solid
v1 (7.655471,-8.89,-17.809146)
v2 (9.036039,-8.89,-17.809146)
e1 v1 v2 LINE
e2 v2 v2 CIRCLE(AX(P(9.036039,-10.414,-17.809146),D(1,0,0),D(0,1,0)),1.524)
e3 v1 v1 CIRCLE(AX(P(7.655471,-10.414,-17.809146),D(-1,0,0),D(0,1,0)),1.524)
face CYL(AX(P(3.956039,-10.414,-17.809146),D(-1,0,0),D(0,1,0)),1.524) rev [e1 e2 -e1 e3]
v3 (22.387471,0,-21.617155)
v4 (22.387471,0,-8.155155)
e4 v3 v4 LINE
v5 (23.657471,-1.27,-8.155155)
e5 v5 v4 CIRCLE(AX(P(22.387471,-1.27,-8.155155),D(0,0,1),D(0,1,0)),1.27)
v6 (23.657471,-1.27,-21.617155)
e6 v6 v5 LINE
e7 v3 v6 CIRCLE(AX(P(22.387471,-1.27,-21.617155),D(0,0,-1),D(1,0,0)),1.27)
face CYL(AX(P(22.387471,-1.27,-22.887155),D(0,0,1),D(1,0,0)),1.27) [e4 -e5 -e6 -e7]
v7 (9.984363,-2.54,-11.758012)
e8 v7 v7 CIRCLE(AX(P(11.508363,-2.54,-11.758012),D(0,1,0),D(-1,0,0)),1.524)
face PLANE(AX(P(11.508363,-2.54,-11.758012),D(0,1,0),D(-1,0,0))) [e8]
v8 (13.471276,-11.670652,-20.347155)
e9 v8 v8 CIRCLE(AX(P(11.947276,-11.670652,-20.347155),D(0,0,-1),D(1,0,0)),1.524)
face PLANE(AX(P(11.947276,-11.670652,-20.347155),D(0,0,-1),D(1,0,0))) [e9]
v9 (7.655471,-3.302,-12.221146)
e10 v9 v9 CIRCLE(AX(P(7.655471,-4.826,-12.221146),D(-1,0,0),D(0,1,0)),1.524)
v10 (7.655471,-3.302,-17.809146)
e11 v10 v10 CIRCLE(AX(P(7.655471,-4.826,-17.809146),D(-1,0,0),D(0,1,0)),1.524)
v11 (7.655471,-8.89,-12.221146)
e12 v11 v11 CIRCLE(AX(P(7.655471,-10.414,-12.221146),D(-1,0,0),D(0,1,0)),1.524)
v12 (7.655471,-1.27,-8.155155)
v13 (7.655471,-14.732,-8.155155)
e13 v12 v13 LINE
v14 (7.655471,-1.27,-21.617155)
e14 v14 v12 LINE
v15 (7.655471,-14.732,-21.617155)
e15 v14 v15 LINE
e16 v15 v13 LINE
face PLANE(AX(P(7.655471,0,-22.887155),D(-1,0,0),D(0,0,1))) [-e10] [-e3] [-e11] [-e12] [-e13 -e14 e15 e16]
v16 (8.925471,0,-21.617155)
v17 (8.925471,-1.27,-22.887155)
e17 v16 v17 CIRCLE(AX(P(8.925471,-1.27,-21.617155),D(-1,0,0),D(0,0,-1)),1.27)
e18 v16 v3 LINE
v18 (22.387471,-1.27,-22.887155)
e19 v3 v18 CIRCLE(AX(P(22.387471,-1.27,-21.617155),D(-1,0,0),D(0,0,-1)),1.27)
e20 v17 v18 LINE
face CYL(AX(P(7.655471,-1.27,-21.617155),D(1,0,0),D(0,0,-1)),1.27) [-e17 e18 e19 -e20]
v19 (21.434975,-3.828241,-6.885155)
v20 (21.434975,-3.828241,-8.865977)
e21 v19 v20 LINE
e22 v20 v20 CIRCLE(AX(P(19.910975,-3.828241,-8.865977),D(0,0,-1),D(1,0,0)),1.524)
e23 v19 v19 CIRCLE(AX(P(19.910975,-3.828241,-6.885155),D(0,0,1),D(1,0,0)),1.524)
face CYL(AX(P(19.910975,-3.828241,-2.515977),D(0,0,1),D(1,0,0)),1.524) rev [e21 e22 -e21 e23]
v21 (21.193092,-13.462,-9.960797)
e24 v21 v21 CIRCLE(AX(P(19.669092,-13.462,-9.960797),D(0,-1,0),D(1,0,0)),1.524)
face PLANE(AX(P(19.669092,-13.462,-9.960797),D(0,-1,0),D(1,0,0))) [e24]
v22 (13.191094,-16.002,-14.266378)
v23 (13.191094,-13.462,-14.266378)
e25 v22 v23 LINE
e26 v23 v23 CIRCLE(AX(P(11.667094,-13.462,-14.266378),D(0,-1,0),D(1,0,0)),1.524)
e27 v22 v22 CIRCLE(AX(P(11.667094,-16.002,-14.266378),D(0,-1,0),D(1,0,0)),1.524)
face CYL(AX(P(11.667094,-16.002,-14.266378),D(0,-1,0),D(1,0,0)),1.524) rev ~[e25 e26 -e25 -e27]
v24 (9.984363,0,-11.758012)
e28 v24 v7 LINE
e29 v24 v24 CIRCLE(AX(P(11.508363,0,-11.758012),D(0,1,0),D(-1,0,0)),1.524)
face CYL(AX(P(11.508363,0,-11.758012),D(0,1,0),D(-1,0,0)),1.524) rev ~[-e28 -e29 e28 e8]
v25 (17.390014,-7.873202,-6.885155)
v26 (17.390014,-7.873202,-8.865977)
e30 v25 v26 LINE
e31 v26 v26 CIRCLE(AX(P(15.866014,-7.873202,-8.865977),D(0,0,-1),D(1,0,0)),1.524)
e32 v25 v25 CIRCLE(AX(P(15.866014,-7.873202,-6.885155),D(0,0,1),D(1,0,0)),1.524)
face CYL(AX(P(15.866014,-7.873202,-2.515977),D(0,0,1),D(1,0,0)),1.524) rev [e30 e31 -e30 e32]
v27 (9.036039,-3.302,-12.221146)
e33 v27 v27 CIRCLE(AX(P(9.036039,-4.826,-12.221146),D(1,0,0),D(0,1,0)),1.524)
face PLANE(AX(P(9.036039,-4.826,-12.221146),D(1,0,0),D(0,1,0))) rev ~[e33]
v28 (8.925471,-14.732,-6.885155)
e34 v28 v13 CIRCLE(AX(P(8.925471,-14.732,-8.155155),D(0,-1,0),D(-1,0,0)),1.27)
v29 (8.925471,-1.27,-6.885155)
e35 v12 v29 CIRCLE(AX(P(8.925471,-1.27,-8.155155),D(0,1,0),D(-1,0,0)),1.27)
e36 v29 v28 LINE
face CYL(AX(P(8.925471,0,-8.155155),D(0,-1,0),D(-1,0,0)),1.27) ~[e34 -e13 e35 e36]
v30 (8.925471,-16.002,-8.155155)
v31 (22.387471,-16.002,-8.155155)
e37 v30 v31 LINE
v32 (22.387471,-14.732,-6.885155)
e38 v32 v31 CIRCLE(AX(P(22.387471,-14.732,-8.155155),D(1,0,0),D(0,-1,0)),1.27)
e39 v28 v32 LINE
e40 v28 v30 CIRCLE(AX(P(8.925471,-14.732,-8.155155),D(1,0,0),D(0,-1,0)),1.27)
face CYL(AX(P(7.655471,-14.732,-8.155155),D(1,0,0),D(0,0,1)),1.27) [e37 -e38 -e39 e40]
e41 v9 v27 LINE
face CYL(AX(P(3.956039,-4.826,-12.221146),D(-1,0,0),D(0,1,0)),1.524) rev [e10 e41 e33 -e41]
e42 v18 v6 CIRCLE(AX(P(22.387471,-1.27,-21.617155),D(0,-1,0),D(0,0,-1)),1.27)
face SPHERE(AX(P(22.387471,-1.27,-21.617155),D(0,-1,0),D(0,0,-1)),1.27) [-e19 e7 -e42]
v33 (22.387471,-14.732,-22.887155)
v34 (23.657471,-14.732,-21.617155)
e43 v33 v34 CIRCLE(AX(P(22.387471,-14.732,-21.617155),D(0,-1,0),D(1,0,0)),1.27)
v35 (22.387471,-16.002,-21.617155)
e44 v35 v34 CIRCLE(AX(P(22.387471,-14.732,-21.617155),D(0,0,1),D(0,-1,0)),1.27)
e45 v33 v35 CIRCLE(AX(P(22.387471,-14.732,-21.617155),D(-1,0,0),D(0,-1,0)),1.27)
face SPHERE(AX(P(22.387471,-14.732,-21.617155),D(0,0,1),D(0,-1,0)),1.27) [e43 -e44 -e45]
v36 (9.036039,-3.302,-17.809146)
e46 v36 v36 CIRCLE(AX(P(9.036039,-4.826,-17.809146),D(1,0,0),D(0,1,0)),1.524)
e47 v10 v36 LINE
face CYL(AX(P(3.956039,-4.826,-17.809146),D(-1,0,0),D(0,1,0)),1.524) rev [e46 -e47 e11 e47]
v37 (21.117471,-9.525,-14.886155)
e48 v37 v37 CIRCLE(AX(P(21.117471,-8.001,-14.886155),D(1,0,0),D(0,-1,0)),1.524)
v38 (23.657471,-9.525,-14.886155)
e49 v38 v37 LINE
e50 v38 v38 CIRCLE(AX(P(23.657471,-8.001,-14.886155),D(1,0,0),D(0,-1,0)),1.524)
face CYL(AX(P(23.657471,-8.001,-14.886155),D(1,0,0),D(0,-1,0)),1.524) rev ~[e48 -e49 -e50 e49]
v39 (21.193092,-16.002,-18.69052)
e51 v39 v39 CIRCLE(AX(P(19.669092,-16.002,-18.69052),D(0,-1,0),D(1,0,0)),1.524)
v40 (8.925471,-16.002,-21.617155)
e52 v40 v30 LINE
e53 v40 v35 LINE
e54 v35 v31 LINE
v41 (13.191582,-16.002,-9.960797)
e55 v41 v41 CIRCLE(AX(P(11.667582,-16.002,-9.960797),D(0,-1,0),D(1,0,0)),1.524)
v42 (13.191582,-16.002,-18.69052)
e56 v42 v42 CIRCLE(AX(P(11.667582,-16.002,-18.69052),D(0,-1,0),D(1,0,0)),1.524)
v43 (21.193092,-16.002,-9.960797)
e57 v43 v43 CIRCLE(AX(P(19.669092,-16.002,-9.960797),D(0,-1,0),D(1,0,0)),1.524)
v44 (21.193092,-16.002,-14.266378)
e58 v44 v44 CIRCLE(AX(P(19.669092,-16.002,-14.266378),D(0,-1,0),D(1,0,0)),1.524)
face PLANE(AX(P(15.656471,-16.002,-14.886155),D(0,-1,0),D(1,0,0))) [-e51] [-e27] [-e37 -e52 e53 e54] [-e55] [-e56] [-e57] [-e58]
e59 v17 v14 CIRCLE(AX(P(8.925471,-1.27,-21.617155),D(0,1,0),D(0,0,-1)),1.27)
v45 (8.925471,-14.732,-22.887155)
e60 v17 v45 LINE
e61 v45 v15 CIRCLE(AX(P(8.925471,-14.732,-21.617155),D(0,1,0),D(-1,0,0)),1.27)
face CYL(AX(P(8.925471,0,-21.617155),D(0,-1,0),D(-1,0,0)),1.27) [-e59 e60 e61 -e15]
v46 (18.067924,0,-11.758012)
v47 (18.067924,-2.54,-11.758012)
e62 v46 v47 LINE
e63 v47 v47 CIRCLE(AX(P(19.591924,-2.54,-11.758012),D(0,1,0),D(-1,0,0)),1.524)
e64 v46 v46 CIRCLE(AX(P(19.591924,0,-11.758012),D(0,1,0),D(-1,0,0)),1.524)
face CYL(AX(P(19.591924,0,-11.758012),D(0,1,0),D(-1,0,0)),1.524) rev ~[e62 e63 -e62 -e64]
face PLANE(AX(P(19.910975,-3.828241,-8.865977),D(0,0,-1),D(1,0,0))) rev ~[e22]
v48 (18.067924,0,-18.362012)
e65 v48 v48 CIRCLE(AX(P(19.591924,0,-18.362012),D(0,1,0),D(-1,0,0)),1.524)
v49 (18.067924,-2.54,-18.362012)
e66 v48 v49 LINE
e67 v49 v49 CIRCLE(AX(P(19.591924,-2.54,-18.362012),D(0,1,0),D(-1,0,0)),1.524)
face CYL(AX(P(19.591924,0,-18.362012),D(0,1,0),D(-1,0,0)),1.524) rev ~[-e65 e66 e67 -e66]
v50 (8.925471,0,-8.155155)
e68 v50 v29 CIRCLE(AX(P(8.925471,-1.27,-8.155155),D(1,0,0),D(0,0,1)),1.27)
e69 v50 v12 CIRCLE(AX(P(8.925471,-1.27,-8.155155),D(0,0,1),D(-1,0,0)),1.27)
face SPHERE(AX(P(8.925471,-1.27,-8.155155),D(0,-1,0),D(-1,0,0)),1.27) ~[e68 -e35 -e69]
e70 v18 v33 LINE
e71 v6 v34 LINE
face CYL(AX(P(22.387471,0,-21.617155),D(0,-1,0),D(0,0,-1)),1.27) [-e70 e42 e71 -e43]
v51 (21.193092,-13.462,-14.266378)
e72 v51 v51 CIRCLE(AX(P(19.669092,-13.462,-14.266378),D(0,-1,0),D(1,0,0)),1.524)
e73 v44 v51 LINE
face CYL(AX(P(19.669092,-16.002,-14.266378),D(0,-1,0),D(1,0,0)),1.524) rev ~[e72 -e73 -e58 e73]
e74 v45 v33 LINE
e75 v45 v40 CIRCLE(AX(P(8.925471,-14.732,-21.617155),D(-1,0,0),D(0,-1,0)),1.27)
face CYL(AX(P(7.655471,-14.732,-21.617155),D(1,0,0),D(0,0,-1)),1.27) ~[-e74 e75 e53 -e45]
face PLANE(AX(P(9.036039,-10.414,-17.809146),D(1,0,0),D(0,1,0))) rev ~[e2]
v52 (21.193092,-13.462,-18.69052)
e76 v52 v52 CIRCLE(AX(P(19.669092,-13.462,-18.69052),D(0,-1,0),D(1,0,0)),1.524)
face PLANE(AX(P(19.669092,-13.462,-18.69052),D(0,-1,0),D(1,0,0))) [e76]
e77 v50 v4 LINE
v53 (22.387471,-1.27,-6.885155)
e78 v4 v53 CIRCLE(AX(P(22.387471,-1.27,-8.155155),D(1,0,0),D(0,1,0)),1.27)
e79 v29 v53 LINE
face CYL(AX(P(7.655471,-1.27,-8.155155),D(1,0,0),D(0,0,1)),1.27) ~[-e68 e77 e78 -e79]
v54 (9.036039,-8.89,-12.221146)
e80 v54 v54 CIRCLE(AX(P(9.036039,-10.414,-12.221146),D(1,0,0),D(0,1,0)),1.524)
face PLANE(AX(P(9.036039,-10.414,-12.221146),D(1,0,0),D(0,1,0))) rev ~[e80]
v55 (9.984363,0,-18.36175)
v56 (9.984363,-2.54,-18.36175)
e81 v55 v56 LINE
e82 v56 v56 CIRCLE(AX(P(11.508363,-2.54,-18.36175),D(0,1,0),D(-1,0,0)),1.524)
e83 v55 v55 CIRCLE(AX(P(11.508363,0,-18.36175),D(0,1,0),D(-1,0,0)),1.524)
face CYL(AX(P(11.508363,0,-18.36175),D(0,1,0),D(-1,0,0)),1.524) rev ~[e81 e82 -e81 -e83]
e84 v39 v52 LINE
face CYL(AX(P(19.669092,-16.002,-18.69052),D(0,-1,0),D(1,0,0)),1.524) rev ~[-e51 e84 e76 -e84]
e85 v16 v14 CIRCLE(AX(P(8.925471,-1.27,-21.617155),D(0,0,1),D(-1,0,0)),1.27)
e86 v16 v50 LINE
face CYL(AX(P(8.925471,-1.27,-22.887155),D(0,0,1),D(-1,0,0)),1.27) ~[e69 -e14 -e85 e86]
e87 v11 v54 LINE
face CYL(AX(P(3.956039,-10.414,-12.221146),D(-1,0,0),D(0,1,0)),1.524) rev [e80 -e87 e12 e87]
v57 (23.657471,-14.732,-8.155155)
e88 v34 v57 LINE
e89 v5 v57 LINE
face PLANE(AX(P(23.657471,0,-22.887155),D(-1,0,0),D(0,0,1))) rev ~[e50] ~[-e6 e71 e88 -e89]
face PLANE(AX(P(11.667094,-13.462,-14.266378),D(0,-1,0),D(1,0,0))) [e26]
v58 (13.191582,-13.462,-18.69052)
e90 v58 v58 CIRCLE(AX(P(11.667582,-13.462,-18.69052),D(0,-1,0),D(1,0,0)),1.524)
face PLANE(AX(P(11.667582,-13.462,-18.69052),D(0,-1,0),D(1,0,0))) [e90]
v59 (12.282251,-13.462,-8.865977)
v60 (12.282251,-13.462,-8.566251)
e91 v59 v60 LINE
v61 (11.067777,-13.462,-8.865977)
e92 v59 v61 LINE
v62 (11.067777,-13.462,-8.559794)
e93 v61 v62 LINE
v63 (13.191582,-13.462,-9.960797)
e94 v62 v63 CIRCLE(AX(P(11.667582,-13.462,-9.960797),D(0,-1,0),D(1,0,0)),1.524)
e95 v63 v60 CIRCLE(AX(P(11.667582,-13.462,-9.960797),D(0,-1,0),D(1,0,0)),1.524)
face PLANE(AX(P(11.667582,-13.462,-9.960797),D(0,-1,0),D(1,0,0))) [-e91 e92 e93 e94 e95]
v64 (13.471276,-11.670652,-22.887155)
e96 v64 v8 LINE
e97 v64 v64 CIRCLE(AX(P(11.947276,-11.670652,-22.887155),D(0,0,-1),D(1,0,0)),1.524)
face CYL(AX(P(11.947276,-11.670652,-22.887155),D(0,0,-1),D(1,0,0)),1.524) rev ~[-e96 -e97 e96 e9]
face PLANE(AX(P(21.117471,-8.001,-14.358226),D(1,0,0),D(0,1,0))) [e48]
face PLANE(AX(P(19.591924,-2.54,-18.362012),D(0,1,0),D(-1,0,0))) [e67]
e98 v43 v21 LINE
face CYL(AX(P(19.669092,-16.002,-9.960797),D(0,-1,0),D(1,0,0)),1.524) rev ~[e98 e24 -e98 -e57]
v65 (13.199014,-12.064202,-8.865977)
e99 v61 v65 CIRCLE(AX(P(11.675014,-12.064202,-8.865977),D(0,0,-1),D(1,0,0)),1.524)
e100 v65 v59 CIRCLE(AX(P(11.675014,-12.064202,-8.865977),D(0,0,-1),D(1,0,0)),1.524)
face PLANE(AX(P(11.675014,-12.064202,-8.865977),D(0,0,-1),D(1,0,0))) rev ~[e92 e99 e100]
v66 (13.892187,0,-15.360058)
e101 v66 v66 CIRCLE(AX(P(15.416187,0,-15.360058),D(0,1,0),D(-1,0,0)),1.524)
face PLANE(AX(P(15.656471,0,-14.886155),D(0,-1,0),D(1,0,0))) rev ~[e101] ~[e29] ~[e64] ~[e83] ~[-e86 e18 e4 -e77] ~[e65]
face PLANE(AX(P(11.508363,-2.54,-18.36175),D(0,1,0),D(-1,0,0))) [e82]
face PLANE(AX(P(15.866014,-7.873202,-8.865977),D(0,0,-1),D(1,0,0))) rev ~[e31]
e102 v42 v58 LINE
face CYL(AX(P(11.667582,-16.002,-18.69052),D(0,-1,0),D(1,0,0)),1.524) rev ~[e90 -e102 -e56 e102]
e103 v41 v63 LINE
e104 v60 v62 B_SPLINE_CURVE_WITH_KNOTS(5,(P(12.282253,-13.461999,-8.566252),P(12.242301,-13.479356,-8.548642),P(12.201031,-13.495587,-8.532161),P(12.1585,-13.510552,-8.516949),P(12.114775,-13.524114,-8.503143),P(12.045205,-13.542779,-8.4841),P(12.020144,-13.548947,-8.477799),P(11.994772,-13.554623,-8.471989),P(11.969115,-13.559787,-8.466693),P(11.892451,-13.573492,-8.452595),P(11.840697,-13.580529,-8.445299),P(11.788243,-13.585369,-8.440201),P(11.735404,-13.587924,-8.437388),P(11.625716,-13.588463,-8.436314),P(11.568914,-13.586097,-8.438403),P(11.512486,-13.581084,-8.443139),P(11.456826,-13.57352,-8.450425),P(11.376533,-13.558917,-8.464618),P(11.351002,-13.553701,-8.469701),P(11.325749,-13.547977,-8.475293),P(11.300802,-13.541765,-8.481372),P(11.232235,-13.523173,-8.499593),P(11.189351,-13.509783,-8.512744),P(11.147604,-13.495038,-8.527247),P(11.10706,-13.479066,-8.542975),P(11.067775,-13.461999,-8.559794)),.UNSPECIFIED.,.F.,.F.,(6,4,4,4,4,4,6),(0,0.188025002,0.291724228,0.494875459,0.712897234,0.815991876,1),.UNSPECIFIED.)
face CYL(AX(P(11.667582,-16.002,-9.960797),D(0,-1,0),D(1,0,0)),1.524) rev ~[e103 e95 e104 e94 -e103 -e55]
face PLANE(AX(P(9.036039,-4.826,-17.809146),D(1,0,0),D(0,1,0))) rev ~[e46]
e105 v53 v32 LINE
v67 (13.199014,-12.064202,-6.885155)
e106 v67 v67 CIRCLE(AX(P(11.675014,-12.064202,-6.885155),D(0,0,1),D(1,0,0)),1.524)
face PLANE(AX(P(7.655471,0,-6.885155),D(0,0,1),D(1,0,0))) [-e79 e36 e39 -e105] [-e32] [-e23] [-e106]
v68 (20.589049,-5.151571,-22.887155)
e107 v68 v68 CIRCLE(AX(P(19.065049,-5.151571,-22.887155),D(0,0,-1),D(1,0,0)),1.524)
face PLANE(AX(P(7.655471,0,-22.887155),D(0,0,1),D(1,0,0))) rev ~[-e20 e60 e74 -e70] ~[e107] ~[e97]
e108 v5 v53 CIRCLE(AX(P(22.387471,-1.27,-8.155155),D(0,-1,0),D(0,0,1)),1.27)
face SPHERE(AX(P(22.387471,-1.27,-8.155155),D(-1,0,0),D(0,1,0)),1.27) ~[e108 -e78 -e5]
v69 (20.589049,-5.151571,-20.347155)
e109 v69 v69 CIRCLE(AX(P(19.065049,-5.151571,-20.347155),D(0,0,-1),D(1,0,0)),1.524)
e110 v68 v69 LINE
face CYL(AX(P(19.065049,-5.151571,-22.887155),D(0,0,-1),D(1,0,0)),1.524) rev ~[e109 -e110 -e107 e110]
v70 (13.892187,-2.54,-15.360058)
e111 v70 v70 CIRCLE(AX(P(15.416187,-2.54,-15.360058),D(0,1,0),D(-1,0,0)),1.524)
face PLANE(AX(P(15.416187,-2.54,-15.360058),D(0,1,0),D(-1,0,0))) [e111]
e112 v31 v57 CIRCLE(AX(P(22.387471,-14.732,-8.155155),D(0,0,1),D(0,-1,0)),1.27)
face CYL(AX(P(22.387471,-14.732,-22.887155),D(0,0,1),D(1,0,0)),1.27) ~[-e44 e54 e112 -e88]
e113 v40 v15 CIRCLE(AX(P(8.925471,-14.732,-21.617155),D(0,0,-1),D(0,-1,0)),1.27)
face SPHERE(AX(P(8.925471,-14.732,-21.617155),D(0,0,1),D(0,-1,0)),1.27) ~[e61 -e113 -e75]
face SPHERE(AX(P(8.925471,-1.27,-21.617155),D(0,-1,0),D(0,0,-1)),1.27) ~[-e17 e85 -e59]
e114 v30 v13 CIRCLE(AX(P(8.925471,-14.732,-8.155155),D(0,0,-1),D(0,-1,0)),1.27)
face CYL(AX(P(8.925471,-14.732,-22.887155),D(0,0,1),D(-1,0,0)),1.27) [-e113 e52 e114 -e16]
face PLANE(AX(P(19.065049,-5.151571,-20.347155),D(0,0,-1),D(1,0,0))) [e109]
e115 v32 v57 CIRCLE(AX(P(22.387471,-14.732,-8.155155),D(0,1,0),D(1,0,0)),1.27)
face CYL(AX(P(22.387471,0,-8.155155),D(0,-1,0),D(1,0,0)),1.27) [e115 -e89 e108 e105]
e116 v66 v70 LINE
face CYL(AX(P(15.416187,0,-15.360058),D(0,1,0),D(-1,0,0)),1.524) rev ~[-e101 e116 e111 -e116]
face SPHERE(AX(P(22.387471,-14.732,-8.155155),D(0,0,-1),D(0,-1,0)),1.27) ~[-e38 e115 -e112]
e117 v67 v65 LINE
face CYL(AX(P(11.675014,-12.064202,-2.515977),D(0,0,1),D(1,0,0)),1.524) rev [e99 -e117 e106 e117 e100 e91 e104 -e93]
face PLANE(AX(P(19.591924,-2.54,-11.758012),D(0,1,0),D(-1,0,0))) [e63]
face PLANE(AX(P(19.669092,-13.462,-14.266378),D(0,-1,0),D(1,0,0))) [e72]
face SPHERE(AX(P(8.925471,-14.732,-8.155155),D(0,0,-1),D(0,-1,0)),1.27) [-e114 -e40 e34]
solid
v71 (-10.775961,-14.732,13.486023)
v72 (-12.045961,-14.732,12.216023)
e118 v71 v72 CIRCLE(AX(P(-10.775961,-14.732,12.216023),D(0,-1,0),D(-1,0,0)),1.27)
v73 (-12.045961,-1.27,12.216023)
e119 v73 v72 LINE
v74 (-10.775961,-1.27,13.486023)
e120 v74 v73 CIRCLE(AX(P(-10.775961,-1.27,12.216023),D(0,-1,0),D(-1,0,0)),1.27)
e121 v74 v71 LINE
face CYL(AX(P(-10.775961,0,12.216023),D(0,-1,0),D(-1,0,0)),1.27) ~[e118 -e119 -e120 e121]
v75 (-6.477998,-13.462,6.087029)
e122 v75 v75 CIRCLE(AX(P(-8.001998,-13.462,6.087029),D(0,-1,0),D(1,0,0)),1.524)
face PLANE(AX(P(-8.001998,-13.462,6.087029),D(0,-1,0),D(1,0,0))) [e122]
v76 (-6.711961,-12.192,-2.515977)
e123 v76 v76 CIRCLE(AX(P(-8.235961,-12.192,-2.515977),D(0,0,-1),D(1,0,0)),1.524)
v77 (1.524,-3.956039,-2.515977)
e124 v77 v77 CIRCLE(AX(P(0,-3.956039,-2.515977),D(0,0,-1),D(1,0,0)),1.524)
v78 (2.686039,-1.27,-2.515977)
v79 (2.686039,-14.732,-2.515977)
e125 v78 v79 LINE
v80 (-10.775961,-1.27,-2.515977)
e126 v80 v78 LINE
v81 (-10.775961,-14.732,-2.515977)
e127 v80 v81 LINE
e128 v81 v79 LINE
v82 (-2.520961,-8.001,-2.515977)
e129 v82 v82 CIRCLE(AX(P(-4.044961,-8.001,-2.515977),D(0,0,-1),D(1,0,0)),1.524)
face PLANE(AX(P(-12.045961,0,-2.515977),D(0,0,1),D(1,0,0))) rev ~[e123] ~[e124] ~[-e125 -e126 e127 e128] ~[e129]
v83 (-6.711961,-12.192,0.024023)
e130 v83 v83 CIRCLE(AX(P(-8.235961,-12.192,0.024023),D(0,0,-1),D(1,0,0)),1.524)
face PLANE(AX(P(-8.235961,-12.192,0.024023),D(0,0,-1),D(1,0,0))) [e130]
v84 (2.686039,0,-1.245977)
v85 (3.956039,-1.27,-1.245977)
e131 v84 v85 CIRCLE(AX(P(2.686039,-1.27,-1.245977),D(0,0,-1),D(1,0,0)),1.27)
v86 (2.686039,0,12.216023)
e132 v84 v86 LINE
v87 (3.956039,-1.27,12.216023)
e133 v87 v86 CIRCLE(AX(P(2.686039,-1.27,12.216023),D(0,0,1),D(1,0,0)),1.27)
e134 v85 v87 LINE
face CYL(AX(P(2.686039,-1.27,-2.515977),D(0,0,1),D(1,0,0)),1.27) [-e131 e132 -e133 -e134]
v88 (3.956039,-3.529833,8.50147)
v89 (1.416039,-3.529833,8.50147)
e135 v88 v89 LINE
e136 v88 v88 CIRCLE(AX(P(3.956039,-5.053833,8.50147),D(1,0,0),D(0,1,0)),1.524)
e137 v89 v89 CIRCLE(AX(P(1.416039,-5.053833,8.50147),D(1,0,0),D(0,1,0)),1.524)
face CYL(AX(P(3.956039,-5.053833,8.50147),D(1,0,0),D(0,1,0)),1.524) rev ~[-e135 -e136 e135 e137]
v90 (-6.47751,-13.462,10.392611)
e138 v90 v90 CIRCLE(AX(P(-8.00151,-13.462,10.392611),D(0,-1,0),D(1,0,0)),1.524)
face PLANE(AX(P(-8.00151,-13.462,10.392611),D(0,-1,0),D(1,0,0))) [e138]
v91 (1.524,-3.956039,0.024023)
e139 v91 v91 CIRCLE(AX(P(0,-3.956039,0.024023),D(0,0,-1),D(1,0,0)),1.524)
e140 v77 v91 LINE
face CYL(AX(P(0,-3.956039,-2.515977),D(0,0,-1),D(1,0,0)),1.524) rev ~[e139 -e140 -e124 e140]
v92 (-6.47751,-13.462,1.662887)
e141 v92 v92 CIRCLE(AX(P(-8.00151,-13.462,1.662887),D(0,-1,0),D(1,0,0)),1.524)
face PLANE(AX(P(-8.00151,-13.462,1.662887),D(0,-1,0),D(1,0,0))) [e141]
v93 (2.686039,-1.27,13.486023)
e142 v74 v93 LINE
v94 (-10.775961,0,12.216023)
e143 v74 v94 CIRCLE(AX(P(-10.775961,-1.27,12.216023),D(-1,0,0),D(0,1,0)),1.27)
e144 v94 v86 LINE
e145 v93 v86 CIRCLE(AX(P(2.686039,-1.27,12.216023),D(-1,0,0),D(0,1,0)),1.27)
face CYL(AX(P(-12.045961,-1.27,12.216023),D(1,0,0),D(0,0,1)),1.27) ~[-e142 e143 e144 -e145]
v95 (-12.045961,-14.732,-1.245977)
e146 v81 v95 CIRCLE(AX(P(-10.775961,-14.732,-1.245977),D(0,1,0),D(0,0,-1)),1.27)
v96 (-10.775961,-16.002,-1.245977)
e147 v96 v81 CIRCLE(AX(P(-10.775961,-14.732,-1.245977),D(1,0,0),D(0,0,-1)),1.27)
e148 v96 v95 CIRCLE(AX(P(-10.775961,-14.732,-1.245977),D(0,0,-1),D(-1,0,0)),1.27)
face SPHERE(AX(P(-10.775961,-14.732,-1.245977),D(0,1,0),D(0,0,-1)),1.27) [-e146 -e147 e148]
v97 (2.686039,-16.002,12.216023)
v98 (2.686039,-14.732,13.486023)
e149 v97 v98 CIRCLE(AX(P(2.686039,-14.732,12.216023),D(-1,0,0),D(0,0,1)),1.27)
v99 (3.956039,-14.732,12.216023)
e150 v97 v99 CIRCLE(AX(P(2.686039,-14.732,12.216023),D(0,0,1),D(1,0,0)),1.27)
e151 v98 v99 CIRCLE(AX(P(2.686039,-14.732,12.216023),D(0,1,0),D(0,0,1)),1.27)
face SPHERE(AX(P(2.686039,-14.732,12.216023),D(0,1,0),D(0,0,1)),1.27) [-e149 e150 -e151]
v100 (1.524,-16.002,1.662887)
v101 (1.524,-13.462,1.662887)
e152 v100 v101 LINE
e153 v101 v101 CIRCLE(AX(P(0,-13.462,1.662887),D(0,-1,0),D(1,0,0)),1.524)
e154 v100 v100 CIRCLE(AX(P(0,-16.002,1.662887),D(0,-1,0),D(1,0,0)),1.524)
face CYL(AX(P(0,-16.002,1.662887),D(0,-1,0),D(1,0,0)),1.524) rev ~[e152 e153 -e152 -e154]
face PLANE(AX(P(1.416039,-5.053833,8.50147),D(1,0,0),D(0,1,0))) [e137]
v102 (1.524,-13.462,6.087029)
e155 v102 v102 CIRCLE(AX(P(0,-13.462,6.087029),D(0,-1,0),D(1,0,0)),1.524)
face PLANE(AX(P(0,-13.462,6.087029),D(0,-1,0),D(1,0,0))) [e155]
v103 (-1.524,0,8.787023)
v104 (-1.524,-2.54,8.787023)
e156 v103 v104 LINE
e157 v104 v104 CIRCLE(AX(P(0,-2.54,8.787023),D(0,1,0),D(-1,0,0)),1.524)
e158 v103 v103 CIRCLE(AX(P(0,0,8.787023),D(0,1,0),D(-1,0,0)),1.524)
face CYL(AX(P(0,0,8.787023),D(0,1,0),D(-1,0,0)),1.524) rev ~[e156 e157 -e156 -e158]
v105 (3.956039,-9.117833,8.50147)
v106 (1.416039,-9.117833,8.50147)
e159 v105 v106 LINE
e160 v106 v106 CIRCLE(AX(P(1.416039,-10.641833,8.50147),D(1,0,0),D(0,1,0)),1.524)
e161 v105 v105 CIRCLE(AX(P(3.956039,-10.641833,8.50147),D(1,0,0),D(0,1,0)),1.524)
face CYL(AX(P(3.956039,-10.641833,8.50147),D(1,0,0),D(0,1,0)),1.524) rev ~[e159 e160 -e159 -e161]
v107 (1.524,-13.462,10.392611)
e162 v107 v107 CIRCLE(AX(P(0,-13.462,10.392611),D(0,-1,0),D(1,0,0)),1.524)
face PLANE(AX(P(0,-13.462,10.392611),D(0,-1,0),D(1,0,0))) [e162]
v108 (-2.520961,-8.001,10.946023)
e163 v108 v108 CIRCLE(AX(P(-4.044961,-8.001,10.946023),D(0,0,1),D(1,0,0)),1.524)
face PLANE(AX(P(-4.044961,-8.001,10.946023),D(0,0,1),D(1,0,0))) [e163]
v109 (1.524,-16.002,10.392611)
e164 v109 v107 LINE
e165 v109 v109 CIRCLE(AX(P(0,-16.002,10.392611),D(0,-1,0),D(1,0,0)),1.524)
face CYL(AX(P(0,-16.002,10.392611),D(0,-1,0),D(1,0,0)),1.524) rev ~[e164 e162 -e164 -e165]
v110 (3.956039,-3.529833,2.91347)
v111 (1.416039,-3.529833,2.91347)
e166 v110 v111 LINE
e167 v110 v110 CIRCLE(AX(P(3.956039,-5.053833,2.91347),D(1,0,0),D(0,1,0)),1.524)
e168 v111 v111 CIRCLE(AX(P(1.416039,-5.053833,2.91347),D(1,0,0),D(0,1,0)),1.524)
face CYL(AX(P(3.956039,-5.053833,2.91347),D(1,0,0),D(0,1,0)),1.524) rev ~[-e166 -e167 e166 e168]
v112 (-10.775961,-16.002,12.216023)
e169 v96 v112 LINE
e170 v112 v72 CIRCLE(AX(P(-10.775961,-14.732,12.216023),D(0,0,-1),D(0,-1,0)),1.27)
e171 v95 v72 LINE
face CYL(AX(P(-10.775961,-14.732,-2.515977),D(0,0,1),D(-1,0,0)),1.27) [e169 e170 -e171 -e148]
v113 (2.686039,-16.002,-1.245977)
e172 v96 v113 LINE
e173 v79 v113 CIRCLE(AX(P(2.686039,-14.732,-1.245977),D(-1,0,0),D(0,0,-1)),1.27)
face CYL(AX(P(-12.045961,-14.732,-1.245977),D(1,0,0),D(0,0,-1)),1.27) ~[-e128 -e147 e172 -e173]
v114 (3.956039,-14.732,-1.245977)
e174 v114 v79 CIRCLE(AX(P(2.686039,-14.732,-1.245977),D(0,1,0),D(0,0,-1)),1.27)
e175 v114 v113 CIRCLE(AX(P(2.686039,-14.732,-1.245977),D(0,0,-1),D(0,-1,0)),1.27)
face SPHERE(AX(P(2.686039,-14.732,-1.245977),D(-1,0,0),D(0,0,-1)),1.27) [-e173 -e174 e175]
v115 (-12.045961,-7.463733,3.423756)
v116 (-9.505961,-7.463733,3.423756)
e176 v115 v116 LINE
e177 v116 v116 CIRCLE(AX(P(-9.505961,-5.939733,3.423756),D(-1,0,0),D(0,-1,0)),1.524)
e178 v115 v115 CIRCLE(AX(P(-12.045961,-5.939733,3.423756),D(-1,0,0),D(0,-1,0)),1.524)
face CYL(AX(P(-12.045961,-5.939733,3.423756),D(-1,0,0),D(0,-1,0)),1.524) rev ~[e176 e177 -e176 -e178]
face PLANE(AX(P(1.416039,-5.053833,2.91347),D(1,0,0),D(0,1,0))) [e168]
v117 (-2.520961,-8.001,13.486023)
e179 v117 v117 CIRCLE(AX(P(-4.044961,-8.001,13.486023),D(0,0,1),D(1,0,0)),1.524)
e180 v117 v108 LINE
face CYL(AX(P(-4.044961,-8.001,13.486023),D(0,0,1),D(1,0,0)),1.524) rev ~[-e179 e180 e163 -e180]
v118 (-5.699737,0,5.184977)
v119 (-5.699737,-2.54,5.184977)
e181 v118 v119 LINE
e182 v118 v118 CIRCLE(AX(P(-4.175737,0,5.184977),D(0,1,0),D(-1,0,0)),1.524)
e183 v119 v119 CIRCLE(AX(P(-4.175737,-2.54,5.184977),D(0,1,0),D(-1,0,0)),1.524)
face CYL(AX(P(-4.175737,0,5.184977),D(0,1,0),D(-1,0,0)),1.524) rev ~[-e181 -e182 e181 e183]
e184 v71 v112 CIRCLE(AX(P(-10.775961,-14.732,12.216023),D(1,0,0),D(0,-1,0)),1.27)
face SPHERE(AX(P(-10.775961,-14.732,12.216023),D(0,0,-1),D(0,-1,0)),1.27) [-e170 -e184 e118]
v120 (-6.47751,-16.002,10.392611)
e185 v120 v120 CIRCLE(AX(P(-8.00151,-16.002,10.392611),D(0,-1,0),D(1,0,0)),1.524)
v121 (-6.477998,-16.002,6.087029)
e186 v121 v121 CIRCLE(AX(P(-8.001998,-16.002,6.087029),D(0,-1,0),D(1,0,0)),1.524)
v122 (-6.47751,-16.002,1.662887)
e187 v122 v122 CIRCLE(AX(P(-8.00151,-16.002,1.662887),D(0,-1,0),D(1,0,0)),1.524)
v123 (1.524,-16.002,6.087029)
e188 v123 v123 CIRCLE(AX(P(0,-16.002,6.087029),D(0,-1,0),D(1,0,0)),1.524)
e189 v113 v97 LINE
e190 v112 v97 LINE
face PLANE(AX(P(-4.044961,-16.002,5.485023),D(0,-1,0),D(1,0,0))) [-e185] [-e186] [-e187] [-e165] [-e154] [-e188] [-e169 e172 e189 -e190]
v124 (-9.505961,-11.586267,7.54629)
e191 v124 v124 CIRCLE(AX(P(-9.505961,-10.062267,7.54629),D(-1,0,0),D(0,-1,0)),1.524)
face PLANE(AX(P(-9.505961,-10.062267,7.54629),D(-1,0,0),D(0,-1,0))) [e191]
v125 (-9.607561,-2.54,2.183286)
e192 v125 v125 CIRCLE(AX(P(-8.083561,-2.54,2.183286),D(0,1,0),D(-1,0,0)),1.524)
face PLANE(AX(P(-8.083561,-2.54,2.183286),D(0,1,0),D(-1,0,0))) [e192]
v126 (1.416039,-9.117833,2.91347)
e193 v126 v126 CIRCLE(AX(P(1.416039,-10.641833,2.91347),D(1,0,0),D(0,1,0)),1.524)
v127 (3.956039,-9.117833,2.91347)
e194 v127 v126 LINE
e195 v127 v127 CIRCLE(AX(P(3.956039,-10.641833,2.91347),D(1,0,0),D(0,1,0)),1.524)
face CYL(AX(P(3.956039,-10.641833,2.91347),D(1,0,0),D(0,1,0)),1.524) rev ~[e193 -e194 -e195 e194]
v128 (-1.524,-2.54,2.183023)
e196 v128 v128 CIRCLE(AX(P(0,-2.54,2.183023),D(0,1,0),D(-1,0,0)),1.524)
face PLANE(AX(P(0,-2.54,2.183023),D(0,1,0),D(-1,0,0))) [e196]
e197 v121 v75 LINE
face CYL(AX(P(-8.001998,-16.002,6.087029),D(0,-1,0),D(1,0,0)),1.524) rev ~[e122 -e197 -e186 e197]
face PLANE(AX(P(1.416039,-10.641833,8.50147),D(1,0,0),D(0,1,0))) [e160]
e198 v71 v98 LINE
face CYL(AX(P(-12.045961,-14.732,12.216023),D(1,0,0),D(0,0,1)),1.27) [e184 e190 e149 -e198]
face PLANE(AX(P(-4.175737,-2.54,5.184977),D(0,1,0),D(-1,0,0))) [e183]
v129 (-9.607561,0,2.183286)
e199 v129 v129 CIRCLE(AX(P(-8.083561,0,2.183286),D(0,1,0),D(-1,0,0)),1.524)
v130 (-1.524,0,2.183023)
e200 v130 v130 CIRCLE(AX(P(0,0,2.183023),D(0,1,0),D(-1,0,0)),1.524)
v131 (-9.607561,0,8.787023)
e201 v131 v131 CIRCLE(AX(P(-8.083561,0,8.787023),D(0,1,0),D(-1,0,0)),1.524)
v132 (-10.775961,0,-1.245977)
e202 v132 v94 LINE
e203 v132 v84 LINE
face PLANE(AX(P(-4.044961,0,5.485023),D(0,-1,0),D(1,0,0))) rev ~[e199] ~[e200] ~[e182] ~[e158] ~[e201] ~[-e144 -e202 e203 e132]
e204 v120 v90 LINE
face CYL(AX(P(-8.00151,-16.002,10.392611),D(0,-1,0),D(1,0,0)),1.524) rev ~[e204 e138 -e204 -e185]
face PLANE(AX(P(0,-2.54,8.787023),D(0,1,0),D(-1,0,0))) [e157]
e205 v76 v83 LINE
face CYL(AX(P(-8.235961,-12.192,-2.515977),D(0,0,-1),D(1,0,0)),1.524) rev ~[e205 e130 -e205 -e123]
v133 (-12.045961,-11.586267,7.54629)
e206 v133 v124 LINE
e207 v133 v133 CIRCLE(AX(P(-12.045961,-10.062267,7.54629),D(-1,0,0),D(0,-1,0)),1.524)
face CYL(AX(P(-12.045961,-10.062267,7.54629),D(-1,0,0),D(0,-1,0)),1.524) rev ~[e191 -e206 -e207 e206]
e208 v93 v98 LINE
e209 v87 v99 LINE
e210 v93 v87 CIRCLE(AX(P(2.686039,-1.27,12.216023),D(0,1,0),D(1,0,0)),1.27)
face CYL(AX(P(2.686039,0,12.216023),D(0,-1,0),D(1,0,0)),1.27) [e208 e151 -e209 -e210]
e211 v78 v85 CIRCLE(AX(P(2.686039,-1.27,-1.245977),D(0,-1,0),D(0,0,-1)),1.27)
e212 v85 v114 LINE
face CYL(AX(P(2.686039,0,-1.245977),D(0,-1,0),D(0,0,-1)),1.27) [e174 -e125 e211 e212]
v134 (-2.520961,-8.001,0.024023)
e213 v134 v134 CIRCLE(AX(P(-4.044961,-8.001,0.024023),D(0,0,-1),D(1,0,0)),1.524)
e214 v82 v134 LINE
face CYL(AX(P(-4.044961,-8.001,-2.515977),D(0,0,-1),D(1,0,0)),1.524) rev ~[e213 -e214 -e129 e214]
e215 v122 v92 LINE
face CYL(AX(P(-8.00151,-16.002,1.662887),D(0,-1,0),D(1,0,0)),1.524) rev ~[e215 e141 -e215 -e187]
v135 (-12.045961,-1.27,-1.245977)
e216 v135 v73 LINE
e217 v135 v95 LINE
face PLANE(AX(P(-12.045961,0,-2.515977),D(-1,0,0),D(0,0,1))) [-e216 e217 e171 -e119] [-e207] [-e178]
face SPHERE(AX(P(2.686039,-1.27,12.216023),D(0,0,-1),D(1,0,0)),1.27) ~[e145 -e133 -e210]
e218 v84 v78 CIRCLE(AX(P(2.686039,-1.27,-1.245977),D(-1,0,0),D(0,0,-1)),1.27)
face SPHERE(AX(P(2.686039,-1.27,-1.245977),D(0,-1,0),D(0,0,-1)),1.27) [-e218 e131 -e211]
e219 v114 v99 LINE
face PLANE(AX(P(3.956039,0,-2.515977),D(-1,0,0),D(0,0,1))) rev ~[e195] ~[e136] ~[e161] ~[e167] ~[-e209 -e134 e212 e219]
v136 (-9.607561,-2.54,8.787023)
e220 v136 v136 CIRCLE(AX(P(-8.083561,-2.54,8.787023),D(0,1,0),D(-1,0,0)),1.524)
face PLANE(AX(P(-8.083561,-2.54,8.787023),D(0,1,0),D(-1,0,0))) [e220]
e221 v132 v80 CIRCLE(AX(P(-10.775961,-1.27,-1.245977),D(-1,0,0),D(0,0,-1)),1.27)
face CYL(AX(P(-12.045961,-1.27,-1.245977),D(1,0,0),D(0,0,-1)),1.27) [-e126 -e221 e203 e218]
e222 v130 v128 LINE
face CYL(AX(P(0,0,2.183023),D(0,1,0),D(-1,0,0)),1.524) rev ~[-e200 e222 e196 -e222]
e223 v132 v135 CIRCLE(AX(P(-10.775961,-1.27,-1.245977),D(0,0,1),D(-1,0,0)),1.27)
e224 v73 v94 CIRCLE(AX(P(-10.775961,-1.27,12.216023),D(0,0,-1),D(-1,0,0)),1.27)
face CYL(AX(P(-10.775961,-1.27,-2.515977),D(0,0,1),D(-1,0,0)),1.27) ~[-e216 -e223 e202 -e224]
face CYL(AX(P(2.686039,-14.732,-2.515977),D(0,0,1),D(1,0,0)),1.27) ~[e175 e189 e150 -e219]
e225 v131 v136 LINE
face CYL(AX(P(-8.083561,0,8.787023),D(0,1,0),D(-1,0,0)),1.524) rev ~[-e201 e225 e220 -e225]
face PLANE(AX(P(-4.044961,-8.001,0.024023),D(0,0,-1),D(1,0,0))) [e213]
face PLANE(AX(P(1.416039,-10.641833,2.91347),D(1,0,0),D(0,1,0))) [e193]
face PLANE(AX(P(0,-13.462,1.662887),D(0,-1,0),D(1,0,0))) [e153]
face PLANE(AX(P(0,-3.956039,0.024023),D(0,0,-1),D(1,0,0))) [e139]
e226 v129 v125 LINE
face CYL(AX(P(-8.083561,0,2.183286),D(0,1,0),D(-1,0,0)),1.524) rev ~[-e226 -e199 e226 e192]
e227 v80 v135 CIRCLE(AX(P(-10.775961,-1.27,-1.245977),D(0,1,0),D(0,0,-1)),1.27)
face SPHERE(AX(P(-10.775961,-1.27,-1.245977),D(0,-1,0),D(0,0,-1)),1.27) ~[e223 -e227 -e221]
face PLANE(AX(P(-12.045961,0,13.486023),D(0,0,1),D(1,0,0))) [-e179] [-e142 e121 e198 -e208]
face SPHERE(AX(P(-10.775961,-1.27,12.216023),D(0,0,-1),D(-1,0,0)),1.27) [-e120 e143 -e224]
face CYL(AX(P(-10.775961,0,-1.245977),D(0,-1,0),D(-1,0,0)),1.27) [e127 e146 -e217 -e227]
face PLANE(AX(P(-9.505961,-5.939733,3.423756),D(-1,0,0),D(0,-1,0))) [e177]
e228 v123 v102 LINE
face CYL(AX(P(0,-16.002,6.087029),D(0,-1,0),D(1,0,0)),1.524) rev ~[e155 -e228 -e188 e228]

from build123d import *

# Parameters (mm, degrees)
F0_W      = 16.002
F0_H      = 16.002
F1_DEPTH  = 16.002
F2_R      = 1.27
F2_2_R    = 1.27
F3_R      = 1.524
F5_DEPTH  = 2.54
F4_R      = 1.524
F6_DEPTH  = 3.81
F7_R      = 1.524
F8_DEPTH  = 2.54
F9_R      = 1.524
F10_DEPTH = 2.54
F11_R     = 1.524
F12_DEPTH = 2.54
F13_R     = 1.524
F14_DEPTH = 2.54
F15_DEPTH = 2.54
F16_DEPTH = 5.08
F17_DEPTH = 2.54
F18_DEPTH = 6.35
F19_DEPTH = 2.54
F20_R     = 1.524
F21_DEPTH = 2.54
F23_DEPTH = 2.54


with BuildPart() as f1:
    # F0 (on Front) → F1 (new body)
    with BuildSketch(Plane.XZ):
        with Locations((-4.0449609755, 5.4850227911)):
            Rectangle(F0_W, F0_H)
    extrude(amount=F1_DEPTH)

    # F2
    f2_edges = [f1.edges().sort_by_distance(p)[0] for p in [
        (-12.045961, -8.001, -2.515977),
        (-4.044961, -16.002, -2.515977),
        (-12.045961, -16.002, 5.485023),
        (3.956039, -8.001, -2.515977),
        (-4.044961, 0, -2.515977),
        (-12.045961, 0, 5.485023),
        (3.956039, 0, 5.485023),
        (3.956039, -8.001, 13.486023),
        (-4.044961, -16.002, 13.486023),
        (-12.045961, -8.001, 13.486023),
        (-4.044961, 0, 13.486023),
        (3.956039, -16.002, 5.485023),
    ]]
    fillet(f2_edges, radius=F2_R)

    # F3 (on face) → F5 (cut)
    with BuildSketch(Plane.XZ.offset(16.002)):
        with Locations((0, 6.0870293528)):
            Circle(F3_R)
        with Locations((0, 10.3926107027)):
            Circle(F3_R)
        with Locations((-8.0015104574, 10.3926107027)):
            Circle(F3_R)
        with Locations((-8.0019982573, 6.0870293528)):
            Circle(F3_R)
        with Locations((-8.0015104574, 1.6628870863)):
            Circle(F3_R)
        with Locations((0, 1.6628870863)):
            Circle(F3_R)
    extrude(amount=-F5_DEPTH, mode=Mode.SUBTRACT)

    # F4 (on face) → F6 (cut)
    with BuildSketch(Plane.YZ.offset(3.9560390245)):
        with Locations((-10.414, -12.2211461659)):
            Circle(F4_R)
        with Locations((-4.826, -12.2211461659)):
            Circle(F4_R)
        with Locations((-10.414, -17.8091461659)):
            Circle(F4_R)
        with Locations((-4.826, -17.8091461659)):
            Circle(F4_R)
    extrude(amount=-F6_DEPTH, mode=Mode.SUBTRACT)

    # F7 (on face) → F8 (cut)
    with BuildSketch(Plane(origin=(0, 0, 0), x_dir=(-1, 0, 0), z_dir=(0, 1, 0))):
        with Locations((0, 8.7870227911)):
            Circle(F7_R)
        with Locations((4.1757369299, 5.1849772363)):
            Circle(F7_R)
        with Locations((8.0835609755, 8.7870227911)):
            Circle(F7_R)
        with Locations((0, 2.1830227911)):
            Circle(F7_R)
        with Locations((8.0835609755, 2.1832855485)):
            Circle(F7_R)
    extrude(amount=-F8_DEPTH, mode=Mode.SUBTRACT)

    # F9 (on face) → F10 (cut)
    with BuildSketch(Plane(origin=(0, 0, -2.5159772089), x_dir=(1, 0, 0), z_dir=(0, 0, -1))):
        with Locations((-8.2359609755, 12.192)):
            Circle(F9_R)
        with Locations((0, 3.9560390245)):
            Circle(F9_R)
        with Locations((-4.0449609755, 8.001)):
            Circle(F9_R)
    extrude(amount=-F10_DEPTH, mode=Mode.SUBTRACT)

    # F11 (on face) → F12 (cut)
    with BuildSketch(Plane(origin=(-12.0459609755, 0, 0), x_dir=(0, -1, 0), z_dir=(-1, 0, 0))):
        with Locations((5.939733183, 3.4237559741)):
            Circle(F11_R)
        with Locations((10.062266817, 7.5462896082)):
            Circle(F11_R)
    extrude(amount=-F12_DEPTH, mode=Mode.SUBTRACT)

    # F13 (on face) → F14 (cut)
    with BuildSketch(Plane.XY.offset(13.4860227911)):
        with Locations((-4.0449609755, -8.001)):
            Circle(F13_R)
    extrude(amount=-F14_DEPTH, mode=Mode.SUBTRACT)

    # F4 (on face) → F15 (cut)
    with BuildSketch(Plane.YZ.offset(3.9560390245)):
        with Locations((-10.6418334472, 8.5014702345)):
            Circle(F4_R)
        with Locations((-10.6418334472, 2.9134702345)):
            Circle(F4_R)
        with Locations((-5.0538334472, 2.9134702345)):
            Circle(F4_R)
        with Locations((-5.0538334472, 8.5014702345)):
            Circle(F4_R)
    extrude(amount=-F15_DEPTH, mode=Mode.SUBTRACT)


with BuildPart() as f1b:
    # F0 (on Front) → F1, piece 2 (new body)
    with BuildSketch(Plane.XZ):
        with Locations((15.6564712524, -14.8861547932)):
            Rectangle(F0_W, F0_H)
    extrude(amount=F1_DEPTH)

    # F2#2
    f2_2_edges = [f1b.edges().sort_by_distance(p)[0] for p in [
        (7.655471, -16.002, -14.886155),
        (23.657471, -16.002, -14.886155),
        (15.656471, -16.002, -6.885155),
        (15.656471, -16.002, -22.887155),
        (7.655471, -8.001, -22.887155),
        (23.657471, -8.001, -22.887155),
        (15.656471, 0, -22.887155),
        (7.655471, -8.001, -6.885155),
        (7.655471, 0, -14.886155),
        (15.656471, 0, -6.885155),
        (23.657471, 0, -14.886155),
        (23.657471, -8.001, -6.885155),
    ]]
    fillet(f2_2_edges, radius=F2_2_R)

    # F4 (on face) → F16 (cut)
    with BuildSketch(Plane.YZ.offset(3.9560390245)):
        with Locations((-4.826, -17.8091461659)):
            Circle(F4_R)
        with Locations((-4.826, -12.2211461659)):
            Circle(F4_R)
        with Locations((-10.414, -12.2211461659)):
            Circle(F4_R)
        with Locations((-10.414, -17.8091461659)):
            Circle(F4_R)
    extrude(amount=F16_DEPTH, mode=Mode.SUBTRACT)

    # F7 (on face) → F17 (cut)
    with BuildSketch(Plane(origin=(0, 0, 0), x_dir=(-1, 0, 0), z_dir=(0, 1, 0))):
        with Locations((-19.5919235051, -11.758012354)):
            Circle(F7_R)
        with Locations((-15.4161865752, -15.3600579088)):
            Circle(F7_R)
        with Locations((-11.5083625296, -11.758012354)):
            Circle(F7_R)
        with Locations((-19.5919235051, -18.362012354)):
            Circle(F7_R)
        with Locations((-11.5083625296, -18.3617495967)):
            Circle(F7_R)
    extrude(amount=-F17_DEPTH, mode=Mode.SUBTRACT)

    # F9 (on face) → F18 (cut)
    with BuildSketch(Plane(origin=(0, 0, -2.5159772089), x_dir=(1, 0, 0), z_dir=(0, 0, -1))):
        with Locations((11.6750139908, 12.0642021599)):
            Circle(F9_R)
        with Locations((15.8660139908, 7.8732021599)):
            Circle(F9_R)
        with Locations((19.9109749663, 3.8282411844)):
            Circle(F9_R)
    extrude(amount=F18_DEPTH, mode=Mode.SUBTRACT)

    # F3 (on face) → F19 (cut)
    with BuildSketch(Plane.XZ.offset(16.002)):
        with Locations((11.6675816328, -9.9607967916)):
            Circle(F3_R)
        with Locations((11.667093833, -14.2663781416)):
            Circle(F3_R)
        with Locations((19.6690920903, -9.9607967916)):
            Circle(F3_R)
        with Locations((19.6690920903, -14.2663781416)):
            Circle(F3_R)
        with Locations((19.6690920903, -18.690520408)):
            Circle(F3_R)
        with Locations((11.6675816328, -18.690520408)):
            Circle(F3_R)
    extrude(amount=-F19_DEPTH, mode=Mode.SUBTRACT)

    # F20 (on face) → F21 (cut)
    with BuildSketch(Plane(origin=(0, 0, -22.8871547932), x_dir=(1, 0, 0), z_dir=(0, 0, -1))):
        with Locations((11.9472761732, 11.6706522367)):
            Circle(F20_R)
        with Locations((19.0650487045, 5.1515711516)):
            Circle(F20_R)
    extrude(amount=-F21_DEPTH, mode=Mode.SUBTRACT)

    # F22 (on face) → F23 (cut)
    with BuildSketch(Plane.YZ.offset(23.6574712524)):
        with BuildLine():
            Line((-9.525, -14.8861547932), (-6.477, -14.8861547932))
            ThreePointArc((-6.477, -14.8861547932), (-8.001, -13.3621547932), (-9.525, -14.8861547932))
        make_face()
        with BuildLine():
            ThreePointArc((-9.525, -14.8861547932), (-8.001, -16.4101547932), (-6.477, -14.8861547932))
            Line((-6.477, -14.8861547932), (-9.525, -14.8861547932))
        make_face()
    extrude(amount=-F23_DEPTH, mode=Mode.SUBTRACT)


solid = Compound([f1.part, f1b.part])
